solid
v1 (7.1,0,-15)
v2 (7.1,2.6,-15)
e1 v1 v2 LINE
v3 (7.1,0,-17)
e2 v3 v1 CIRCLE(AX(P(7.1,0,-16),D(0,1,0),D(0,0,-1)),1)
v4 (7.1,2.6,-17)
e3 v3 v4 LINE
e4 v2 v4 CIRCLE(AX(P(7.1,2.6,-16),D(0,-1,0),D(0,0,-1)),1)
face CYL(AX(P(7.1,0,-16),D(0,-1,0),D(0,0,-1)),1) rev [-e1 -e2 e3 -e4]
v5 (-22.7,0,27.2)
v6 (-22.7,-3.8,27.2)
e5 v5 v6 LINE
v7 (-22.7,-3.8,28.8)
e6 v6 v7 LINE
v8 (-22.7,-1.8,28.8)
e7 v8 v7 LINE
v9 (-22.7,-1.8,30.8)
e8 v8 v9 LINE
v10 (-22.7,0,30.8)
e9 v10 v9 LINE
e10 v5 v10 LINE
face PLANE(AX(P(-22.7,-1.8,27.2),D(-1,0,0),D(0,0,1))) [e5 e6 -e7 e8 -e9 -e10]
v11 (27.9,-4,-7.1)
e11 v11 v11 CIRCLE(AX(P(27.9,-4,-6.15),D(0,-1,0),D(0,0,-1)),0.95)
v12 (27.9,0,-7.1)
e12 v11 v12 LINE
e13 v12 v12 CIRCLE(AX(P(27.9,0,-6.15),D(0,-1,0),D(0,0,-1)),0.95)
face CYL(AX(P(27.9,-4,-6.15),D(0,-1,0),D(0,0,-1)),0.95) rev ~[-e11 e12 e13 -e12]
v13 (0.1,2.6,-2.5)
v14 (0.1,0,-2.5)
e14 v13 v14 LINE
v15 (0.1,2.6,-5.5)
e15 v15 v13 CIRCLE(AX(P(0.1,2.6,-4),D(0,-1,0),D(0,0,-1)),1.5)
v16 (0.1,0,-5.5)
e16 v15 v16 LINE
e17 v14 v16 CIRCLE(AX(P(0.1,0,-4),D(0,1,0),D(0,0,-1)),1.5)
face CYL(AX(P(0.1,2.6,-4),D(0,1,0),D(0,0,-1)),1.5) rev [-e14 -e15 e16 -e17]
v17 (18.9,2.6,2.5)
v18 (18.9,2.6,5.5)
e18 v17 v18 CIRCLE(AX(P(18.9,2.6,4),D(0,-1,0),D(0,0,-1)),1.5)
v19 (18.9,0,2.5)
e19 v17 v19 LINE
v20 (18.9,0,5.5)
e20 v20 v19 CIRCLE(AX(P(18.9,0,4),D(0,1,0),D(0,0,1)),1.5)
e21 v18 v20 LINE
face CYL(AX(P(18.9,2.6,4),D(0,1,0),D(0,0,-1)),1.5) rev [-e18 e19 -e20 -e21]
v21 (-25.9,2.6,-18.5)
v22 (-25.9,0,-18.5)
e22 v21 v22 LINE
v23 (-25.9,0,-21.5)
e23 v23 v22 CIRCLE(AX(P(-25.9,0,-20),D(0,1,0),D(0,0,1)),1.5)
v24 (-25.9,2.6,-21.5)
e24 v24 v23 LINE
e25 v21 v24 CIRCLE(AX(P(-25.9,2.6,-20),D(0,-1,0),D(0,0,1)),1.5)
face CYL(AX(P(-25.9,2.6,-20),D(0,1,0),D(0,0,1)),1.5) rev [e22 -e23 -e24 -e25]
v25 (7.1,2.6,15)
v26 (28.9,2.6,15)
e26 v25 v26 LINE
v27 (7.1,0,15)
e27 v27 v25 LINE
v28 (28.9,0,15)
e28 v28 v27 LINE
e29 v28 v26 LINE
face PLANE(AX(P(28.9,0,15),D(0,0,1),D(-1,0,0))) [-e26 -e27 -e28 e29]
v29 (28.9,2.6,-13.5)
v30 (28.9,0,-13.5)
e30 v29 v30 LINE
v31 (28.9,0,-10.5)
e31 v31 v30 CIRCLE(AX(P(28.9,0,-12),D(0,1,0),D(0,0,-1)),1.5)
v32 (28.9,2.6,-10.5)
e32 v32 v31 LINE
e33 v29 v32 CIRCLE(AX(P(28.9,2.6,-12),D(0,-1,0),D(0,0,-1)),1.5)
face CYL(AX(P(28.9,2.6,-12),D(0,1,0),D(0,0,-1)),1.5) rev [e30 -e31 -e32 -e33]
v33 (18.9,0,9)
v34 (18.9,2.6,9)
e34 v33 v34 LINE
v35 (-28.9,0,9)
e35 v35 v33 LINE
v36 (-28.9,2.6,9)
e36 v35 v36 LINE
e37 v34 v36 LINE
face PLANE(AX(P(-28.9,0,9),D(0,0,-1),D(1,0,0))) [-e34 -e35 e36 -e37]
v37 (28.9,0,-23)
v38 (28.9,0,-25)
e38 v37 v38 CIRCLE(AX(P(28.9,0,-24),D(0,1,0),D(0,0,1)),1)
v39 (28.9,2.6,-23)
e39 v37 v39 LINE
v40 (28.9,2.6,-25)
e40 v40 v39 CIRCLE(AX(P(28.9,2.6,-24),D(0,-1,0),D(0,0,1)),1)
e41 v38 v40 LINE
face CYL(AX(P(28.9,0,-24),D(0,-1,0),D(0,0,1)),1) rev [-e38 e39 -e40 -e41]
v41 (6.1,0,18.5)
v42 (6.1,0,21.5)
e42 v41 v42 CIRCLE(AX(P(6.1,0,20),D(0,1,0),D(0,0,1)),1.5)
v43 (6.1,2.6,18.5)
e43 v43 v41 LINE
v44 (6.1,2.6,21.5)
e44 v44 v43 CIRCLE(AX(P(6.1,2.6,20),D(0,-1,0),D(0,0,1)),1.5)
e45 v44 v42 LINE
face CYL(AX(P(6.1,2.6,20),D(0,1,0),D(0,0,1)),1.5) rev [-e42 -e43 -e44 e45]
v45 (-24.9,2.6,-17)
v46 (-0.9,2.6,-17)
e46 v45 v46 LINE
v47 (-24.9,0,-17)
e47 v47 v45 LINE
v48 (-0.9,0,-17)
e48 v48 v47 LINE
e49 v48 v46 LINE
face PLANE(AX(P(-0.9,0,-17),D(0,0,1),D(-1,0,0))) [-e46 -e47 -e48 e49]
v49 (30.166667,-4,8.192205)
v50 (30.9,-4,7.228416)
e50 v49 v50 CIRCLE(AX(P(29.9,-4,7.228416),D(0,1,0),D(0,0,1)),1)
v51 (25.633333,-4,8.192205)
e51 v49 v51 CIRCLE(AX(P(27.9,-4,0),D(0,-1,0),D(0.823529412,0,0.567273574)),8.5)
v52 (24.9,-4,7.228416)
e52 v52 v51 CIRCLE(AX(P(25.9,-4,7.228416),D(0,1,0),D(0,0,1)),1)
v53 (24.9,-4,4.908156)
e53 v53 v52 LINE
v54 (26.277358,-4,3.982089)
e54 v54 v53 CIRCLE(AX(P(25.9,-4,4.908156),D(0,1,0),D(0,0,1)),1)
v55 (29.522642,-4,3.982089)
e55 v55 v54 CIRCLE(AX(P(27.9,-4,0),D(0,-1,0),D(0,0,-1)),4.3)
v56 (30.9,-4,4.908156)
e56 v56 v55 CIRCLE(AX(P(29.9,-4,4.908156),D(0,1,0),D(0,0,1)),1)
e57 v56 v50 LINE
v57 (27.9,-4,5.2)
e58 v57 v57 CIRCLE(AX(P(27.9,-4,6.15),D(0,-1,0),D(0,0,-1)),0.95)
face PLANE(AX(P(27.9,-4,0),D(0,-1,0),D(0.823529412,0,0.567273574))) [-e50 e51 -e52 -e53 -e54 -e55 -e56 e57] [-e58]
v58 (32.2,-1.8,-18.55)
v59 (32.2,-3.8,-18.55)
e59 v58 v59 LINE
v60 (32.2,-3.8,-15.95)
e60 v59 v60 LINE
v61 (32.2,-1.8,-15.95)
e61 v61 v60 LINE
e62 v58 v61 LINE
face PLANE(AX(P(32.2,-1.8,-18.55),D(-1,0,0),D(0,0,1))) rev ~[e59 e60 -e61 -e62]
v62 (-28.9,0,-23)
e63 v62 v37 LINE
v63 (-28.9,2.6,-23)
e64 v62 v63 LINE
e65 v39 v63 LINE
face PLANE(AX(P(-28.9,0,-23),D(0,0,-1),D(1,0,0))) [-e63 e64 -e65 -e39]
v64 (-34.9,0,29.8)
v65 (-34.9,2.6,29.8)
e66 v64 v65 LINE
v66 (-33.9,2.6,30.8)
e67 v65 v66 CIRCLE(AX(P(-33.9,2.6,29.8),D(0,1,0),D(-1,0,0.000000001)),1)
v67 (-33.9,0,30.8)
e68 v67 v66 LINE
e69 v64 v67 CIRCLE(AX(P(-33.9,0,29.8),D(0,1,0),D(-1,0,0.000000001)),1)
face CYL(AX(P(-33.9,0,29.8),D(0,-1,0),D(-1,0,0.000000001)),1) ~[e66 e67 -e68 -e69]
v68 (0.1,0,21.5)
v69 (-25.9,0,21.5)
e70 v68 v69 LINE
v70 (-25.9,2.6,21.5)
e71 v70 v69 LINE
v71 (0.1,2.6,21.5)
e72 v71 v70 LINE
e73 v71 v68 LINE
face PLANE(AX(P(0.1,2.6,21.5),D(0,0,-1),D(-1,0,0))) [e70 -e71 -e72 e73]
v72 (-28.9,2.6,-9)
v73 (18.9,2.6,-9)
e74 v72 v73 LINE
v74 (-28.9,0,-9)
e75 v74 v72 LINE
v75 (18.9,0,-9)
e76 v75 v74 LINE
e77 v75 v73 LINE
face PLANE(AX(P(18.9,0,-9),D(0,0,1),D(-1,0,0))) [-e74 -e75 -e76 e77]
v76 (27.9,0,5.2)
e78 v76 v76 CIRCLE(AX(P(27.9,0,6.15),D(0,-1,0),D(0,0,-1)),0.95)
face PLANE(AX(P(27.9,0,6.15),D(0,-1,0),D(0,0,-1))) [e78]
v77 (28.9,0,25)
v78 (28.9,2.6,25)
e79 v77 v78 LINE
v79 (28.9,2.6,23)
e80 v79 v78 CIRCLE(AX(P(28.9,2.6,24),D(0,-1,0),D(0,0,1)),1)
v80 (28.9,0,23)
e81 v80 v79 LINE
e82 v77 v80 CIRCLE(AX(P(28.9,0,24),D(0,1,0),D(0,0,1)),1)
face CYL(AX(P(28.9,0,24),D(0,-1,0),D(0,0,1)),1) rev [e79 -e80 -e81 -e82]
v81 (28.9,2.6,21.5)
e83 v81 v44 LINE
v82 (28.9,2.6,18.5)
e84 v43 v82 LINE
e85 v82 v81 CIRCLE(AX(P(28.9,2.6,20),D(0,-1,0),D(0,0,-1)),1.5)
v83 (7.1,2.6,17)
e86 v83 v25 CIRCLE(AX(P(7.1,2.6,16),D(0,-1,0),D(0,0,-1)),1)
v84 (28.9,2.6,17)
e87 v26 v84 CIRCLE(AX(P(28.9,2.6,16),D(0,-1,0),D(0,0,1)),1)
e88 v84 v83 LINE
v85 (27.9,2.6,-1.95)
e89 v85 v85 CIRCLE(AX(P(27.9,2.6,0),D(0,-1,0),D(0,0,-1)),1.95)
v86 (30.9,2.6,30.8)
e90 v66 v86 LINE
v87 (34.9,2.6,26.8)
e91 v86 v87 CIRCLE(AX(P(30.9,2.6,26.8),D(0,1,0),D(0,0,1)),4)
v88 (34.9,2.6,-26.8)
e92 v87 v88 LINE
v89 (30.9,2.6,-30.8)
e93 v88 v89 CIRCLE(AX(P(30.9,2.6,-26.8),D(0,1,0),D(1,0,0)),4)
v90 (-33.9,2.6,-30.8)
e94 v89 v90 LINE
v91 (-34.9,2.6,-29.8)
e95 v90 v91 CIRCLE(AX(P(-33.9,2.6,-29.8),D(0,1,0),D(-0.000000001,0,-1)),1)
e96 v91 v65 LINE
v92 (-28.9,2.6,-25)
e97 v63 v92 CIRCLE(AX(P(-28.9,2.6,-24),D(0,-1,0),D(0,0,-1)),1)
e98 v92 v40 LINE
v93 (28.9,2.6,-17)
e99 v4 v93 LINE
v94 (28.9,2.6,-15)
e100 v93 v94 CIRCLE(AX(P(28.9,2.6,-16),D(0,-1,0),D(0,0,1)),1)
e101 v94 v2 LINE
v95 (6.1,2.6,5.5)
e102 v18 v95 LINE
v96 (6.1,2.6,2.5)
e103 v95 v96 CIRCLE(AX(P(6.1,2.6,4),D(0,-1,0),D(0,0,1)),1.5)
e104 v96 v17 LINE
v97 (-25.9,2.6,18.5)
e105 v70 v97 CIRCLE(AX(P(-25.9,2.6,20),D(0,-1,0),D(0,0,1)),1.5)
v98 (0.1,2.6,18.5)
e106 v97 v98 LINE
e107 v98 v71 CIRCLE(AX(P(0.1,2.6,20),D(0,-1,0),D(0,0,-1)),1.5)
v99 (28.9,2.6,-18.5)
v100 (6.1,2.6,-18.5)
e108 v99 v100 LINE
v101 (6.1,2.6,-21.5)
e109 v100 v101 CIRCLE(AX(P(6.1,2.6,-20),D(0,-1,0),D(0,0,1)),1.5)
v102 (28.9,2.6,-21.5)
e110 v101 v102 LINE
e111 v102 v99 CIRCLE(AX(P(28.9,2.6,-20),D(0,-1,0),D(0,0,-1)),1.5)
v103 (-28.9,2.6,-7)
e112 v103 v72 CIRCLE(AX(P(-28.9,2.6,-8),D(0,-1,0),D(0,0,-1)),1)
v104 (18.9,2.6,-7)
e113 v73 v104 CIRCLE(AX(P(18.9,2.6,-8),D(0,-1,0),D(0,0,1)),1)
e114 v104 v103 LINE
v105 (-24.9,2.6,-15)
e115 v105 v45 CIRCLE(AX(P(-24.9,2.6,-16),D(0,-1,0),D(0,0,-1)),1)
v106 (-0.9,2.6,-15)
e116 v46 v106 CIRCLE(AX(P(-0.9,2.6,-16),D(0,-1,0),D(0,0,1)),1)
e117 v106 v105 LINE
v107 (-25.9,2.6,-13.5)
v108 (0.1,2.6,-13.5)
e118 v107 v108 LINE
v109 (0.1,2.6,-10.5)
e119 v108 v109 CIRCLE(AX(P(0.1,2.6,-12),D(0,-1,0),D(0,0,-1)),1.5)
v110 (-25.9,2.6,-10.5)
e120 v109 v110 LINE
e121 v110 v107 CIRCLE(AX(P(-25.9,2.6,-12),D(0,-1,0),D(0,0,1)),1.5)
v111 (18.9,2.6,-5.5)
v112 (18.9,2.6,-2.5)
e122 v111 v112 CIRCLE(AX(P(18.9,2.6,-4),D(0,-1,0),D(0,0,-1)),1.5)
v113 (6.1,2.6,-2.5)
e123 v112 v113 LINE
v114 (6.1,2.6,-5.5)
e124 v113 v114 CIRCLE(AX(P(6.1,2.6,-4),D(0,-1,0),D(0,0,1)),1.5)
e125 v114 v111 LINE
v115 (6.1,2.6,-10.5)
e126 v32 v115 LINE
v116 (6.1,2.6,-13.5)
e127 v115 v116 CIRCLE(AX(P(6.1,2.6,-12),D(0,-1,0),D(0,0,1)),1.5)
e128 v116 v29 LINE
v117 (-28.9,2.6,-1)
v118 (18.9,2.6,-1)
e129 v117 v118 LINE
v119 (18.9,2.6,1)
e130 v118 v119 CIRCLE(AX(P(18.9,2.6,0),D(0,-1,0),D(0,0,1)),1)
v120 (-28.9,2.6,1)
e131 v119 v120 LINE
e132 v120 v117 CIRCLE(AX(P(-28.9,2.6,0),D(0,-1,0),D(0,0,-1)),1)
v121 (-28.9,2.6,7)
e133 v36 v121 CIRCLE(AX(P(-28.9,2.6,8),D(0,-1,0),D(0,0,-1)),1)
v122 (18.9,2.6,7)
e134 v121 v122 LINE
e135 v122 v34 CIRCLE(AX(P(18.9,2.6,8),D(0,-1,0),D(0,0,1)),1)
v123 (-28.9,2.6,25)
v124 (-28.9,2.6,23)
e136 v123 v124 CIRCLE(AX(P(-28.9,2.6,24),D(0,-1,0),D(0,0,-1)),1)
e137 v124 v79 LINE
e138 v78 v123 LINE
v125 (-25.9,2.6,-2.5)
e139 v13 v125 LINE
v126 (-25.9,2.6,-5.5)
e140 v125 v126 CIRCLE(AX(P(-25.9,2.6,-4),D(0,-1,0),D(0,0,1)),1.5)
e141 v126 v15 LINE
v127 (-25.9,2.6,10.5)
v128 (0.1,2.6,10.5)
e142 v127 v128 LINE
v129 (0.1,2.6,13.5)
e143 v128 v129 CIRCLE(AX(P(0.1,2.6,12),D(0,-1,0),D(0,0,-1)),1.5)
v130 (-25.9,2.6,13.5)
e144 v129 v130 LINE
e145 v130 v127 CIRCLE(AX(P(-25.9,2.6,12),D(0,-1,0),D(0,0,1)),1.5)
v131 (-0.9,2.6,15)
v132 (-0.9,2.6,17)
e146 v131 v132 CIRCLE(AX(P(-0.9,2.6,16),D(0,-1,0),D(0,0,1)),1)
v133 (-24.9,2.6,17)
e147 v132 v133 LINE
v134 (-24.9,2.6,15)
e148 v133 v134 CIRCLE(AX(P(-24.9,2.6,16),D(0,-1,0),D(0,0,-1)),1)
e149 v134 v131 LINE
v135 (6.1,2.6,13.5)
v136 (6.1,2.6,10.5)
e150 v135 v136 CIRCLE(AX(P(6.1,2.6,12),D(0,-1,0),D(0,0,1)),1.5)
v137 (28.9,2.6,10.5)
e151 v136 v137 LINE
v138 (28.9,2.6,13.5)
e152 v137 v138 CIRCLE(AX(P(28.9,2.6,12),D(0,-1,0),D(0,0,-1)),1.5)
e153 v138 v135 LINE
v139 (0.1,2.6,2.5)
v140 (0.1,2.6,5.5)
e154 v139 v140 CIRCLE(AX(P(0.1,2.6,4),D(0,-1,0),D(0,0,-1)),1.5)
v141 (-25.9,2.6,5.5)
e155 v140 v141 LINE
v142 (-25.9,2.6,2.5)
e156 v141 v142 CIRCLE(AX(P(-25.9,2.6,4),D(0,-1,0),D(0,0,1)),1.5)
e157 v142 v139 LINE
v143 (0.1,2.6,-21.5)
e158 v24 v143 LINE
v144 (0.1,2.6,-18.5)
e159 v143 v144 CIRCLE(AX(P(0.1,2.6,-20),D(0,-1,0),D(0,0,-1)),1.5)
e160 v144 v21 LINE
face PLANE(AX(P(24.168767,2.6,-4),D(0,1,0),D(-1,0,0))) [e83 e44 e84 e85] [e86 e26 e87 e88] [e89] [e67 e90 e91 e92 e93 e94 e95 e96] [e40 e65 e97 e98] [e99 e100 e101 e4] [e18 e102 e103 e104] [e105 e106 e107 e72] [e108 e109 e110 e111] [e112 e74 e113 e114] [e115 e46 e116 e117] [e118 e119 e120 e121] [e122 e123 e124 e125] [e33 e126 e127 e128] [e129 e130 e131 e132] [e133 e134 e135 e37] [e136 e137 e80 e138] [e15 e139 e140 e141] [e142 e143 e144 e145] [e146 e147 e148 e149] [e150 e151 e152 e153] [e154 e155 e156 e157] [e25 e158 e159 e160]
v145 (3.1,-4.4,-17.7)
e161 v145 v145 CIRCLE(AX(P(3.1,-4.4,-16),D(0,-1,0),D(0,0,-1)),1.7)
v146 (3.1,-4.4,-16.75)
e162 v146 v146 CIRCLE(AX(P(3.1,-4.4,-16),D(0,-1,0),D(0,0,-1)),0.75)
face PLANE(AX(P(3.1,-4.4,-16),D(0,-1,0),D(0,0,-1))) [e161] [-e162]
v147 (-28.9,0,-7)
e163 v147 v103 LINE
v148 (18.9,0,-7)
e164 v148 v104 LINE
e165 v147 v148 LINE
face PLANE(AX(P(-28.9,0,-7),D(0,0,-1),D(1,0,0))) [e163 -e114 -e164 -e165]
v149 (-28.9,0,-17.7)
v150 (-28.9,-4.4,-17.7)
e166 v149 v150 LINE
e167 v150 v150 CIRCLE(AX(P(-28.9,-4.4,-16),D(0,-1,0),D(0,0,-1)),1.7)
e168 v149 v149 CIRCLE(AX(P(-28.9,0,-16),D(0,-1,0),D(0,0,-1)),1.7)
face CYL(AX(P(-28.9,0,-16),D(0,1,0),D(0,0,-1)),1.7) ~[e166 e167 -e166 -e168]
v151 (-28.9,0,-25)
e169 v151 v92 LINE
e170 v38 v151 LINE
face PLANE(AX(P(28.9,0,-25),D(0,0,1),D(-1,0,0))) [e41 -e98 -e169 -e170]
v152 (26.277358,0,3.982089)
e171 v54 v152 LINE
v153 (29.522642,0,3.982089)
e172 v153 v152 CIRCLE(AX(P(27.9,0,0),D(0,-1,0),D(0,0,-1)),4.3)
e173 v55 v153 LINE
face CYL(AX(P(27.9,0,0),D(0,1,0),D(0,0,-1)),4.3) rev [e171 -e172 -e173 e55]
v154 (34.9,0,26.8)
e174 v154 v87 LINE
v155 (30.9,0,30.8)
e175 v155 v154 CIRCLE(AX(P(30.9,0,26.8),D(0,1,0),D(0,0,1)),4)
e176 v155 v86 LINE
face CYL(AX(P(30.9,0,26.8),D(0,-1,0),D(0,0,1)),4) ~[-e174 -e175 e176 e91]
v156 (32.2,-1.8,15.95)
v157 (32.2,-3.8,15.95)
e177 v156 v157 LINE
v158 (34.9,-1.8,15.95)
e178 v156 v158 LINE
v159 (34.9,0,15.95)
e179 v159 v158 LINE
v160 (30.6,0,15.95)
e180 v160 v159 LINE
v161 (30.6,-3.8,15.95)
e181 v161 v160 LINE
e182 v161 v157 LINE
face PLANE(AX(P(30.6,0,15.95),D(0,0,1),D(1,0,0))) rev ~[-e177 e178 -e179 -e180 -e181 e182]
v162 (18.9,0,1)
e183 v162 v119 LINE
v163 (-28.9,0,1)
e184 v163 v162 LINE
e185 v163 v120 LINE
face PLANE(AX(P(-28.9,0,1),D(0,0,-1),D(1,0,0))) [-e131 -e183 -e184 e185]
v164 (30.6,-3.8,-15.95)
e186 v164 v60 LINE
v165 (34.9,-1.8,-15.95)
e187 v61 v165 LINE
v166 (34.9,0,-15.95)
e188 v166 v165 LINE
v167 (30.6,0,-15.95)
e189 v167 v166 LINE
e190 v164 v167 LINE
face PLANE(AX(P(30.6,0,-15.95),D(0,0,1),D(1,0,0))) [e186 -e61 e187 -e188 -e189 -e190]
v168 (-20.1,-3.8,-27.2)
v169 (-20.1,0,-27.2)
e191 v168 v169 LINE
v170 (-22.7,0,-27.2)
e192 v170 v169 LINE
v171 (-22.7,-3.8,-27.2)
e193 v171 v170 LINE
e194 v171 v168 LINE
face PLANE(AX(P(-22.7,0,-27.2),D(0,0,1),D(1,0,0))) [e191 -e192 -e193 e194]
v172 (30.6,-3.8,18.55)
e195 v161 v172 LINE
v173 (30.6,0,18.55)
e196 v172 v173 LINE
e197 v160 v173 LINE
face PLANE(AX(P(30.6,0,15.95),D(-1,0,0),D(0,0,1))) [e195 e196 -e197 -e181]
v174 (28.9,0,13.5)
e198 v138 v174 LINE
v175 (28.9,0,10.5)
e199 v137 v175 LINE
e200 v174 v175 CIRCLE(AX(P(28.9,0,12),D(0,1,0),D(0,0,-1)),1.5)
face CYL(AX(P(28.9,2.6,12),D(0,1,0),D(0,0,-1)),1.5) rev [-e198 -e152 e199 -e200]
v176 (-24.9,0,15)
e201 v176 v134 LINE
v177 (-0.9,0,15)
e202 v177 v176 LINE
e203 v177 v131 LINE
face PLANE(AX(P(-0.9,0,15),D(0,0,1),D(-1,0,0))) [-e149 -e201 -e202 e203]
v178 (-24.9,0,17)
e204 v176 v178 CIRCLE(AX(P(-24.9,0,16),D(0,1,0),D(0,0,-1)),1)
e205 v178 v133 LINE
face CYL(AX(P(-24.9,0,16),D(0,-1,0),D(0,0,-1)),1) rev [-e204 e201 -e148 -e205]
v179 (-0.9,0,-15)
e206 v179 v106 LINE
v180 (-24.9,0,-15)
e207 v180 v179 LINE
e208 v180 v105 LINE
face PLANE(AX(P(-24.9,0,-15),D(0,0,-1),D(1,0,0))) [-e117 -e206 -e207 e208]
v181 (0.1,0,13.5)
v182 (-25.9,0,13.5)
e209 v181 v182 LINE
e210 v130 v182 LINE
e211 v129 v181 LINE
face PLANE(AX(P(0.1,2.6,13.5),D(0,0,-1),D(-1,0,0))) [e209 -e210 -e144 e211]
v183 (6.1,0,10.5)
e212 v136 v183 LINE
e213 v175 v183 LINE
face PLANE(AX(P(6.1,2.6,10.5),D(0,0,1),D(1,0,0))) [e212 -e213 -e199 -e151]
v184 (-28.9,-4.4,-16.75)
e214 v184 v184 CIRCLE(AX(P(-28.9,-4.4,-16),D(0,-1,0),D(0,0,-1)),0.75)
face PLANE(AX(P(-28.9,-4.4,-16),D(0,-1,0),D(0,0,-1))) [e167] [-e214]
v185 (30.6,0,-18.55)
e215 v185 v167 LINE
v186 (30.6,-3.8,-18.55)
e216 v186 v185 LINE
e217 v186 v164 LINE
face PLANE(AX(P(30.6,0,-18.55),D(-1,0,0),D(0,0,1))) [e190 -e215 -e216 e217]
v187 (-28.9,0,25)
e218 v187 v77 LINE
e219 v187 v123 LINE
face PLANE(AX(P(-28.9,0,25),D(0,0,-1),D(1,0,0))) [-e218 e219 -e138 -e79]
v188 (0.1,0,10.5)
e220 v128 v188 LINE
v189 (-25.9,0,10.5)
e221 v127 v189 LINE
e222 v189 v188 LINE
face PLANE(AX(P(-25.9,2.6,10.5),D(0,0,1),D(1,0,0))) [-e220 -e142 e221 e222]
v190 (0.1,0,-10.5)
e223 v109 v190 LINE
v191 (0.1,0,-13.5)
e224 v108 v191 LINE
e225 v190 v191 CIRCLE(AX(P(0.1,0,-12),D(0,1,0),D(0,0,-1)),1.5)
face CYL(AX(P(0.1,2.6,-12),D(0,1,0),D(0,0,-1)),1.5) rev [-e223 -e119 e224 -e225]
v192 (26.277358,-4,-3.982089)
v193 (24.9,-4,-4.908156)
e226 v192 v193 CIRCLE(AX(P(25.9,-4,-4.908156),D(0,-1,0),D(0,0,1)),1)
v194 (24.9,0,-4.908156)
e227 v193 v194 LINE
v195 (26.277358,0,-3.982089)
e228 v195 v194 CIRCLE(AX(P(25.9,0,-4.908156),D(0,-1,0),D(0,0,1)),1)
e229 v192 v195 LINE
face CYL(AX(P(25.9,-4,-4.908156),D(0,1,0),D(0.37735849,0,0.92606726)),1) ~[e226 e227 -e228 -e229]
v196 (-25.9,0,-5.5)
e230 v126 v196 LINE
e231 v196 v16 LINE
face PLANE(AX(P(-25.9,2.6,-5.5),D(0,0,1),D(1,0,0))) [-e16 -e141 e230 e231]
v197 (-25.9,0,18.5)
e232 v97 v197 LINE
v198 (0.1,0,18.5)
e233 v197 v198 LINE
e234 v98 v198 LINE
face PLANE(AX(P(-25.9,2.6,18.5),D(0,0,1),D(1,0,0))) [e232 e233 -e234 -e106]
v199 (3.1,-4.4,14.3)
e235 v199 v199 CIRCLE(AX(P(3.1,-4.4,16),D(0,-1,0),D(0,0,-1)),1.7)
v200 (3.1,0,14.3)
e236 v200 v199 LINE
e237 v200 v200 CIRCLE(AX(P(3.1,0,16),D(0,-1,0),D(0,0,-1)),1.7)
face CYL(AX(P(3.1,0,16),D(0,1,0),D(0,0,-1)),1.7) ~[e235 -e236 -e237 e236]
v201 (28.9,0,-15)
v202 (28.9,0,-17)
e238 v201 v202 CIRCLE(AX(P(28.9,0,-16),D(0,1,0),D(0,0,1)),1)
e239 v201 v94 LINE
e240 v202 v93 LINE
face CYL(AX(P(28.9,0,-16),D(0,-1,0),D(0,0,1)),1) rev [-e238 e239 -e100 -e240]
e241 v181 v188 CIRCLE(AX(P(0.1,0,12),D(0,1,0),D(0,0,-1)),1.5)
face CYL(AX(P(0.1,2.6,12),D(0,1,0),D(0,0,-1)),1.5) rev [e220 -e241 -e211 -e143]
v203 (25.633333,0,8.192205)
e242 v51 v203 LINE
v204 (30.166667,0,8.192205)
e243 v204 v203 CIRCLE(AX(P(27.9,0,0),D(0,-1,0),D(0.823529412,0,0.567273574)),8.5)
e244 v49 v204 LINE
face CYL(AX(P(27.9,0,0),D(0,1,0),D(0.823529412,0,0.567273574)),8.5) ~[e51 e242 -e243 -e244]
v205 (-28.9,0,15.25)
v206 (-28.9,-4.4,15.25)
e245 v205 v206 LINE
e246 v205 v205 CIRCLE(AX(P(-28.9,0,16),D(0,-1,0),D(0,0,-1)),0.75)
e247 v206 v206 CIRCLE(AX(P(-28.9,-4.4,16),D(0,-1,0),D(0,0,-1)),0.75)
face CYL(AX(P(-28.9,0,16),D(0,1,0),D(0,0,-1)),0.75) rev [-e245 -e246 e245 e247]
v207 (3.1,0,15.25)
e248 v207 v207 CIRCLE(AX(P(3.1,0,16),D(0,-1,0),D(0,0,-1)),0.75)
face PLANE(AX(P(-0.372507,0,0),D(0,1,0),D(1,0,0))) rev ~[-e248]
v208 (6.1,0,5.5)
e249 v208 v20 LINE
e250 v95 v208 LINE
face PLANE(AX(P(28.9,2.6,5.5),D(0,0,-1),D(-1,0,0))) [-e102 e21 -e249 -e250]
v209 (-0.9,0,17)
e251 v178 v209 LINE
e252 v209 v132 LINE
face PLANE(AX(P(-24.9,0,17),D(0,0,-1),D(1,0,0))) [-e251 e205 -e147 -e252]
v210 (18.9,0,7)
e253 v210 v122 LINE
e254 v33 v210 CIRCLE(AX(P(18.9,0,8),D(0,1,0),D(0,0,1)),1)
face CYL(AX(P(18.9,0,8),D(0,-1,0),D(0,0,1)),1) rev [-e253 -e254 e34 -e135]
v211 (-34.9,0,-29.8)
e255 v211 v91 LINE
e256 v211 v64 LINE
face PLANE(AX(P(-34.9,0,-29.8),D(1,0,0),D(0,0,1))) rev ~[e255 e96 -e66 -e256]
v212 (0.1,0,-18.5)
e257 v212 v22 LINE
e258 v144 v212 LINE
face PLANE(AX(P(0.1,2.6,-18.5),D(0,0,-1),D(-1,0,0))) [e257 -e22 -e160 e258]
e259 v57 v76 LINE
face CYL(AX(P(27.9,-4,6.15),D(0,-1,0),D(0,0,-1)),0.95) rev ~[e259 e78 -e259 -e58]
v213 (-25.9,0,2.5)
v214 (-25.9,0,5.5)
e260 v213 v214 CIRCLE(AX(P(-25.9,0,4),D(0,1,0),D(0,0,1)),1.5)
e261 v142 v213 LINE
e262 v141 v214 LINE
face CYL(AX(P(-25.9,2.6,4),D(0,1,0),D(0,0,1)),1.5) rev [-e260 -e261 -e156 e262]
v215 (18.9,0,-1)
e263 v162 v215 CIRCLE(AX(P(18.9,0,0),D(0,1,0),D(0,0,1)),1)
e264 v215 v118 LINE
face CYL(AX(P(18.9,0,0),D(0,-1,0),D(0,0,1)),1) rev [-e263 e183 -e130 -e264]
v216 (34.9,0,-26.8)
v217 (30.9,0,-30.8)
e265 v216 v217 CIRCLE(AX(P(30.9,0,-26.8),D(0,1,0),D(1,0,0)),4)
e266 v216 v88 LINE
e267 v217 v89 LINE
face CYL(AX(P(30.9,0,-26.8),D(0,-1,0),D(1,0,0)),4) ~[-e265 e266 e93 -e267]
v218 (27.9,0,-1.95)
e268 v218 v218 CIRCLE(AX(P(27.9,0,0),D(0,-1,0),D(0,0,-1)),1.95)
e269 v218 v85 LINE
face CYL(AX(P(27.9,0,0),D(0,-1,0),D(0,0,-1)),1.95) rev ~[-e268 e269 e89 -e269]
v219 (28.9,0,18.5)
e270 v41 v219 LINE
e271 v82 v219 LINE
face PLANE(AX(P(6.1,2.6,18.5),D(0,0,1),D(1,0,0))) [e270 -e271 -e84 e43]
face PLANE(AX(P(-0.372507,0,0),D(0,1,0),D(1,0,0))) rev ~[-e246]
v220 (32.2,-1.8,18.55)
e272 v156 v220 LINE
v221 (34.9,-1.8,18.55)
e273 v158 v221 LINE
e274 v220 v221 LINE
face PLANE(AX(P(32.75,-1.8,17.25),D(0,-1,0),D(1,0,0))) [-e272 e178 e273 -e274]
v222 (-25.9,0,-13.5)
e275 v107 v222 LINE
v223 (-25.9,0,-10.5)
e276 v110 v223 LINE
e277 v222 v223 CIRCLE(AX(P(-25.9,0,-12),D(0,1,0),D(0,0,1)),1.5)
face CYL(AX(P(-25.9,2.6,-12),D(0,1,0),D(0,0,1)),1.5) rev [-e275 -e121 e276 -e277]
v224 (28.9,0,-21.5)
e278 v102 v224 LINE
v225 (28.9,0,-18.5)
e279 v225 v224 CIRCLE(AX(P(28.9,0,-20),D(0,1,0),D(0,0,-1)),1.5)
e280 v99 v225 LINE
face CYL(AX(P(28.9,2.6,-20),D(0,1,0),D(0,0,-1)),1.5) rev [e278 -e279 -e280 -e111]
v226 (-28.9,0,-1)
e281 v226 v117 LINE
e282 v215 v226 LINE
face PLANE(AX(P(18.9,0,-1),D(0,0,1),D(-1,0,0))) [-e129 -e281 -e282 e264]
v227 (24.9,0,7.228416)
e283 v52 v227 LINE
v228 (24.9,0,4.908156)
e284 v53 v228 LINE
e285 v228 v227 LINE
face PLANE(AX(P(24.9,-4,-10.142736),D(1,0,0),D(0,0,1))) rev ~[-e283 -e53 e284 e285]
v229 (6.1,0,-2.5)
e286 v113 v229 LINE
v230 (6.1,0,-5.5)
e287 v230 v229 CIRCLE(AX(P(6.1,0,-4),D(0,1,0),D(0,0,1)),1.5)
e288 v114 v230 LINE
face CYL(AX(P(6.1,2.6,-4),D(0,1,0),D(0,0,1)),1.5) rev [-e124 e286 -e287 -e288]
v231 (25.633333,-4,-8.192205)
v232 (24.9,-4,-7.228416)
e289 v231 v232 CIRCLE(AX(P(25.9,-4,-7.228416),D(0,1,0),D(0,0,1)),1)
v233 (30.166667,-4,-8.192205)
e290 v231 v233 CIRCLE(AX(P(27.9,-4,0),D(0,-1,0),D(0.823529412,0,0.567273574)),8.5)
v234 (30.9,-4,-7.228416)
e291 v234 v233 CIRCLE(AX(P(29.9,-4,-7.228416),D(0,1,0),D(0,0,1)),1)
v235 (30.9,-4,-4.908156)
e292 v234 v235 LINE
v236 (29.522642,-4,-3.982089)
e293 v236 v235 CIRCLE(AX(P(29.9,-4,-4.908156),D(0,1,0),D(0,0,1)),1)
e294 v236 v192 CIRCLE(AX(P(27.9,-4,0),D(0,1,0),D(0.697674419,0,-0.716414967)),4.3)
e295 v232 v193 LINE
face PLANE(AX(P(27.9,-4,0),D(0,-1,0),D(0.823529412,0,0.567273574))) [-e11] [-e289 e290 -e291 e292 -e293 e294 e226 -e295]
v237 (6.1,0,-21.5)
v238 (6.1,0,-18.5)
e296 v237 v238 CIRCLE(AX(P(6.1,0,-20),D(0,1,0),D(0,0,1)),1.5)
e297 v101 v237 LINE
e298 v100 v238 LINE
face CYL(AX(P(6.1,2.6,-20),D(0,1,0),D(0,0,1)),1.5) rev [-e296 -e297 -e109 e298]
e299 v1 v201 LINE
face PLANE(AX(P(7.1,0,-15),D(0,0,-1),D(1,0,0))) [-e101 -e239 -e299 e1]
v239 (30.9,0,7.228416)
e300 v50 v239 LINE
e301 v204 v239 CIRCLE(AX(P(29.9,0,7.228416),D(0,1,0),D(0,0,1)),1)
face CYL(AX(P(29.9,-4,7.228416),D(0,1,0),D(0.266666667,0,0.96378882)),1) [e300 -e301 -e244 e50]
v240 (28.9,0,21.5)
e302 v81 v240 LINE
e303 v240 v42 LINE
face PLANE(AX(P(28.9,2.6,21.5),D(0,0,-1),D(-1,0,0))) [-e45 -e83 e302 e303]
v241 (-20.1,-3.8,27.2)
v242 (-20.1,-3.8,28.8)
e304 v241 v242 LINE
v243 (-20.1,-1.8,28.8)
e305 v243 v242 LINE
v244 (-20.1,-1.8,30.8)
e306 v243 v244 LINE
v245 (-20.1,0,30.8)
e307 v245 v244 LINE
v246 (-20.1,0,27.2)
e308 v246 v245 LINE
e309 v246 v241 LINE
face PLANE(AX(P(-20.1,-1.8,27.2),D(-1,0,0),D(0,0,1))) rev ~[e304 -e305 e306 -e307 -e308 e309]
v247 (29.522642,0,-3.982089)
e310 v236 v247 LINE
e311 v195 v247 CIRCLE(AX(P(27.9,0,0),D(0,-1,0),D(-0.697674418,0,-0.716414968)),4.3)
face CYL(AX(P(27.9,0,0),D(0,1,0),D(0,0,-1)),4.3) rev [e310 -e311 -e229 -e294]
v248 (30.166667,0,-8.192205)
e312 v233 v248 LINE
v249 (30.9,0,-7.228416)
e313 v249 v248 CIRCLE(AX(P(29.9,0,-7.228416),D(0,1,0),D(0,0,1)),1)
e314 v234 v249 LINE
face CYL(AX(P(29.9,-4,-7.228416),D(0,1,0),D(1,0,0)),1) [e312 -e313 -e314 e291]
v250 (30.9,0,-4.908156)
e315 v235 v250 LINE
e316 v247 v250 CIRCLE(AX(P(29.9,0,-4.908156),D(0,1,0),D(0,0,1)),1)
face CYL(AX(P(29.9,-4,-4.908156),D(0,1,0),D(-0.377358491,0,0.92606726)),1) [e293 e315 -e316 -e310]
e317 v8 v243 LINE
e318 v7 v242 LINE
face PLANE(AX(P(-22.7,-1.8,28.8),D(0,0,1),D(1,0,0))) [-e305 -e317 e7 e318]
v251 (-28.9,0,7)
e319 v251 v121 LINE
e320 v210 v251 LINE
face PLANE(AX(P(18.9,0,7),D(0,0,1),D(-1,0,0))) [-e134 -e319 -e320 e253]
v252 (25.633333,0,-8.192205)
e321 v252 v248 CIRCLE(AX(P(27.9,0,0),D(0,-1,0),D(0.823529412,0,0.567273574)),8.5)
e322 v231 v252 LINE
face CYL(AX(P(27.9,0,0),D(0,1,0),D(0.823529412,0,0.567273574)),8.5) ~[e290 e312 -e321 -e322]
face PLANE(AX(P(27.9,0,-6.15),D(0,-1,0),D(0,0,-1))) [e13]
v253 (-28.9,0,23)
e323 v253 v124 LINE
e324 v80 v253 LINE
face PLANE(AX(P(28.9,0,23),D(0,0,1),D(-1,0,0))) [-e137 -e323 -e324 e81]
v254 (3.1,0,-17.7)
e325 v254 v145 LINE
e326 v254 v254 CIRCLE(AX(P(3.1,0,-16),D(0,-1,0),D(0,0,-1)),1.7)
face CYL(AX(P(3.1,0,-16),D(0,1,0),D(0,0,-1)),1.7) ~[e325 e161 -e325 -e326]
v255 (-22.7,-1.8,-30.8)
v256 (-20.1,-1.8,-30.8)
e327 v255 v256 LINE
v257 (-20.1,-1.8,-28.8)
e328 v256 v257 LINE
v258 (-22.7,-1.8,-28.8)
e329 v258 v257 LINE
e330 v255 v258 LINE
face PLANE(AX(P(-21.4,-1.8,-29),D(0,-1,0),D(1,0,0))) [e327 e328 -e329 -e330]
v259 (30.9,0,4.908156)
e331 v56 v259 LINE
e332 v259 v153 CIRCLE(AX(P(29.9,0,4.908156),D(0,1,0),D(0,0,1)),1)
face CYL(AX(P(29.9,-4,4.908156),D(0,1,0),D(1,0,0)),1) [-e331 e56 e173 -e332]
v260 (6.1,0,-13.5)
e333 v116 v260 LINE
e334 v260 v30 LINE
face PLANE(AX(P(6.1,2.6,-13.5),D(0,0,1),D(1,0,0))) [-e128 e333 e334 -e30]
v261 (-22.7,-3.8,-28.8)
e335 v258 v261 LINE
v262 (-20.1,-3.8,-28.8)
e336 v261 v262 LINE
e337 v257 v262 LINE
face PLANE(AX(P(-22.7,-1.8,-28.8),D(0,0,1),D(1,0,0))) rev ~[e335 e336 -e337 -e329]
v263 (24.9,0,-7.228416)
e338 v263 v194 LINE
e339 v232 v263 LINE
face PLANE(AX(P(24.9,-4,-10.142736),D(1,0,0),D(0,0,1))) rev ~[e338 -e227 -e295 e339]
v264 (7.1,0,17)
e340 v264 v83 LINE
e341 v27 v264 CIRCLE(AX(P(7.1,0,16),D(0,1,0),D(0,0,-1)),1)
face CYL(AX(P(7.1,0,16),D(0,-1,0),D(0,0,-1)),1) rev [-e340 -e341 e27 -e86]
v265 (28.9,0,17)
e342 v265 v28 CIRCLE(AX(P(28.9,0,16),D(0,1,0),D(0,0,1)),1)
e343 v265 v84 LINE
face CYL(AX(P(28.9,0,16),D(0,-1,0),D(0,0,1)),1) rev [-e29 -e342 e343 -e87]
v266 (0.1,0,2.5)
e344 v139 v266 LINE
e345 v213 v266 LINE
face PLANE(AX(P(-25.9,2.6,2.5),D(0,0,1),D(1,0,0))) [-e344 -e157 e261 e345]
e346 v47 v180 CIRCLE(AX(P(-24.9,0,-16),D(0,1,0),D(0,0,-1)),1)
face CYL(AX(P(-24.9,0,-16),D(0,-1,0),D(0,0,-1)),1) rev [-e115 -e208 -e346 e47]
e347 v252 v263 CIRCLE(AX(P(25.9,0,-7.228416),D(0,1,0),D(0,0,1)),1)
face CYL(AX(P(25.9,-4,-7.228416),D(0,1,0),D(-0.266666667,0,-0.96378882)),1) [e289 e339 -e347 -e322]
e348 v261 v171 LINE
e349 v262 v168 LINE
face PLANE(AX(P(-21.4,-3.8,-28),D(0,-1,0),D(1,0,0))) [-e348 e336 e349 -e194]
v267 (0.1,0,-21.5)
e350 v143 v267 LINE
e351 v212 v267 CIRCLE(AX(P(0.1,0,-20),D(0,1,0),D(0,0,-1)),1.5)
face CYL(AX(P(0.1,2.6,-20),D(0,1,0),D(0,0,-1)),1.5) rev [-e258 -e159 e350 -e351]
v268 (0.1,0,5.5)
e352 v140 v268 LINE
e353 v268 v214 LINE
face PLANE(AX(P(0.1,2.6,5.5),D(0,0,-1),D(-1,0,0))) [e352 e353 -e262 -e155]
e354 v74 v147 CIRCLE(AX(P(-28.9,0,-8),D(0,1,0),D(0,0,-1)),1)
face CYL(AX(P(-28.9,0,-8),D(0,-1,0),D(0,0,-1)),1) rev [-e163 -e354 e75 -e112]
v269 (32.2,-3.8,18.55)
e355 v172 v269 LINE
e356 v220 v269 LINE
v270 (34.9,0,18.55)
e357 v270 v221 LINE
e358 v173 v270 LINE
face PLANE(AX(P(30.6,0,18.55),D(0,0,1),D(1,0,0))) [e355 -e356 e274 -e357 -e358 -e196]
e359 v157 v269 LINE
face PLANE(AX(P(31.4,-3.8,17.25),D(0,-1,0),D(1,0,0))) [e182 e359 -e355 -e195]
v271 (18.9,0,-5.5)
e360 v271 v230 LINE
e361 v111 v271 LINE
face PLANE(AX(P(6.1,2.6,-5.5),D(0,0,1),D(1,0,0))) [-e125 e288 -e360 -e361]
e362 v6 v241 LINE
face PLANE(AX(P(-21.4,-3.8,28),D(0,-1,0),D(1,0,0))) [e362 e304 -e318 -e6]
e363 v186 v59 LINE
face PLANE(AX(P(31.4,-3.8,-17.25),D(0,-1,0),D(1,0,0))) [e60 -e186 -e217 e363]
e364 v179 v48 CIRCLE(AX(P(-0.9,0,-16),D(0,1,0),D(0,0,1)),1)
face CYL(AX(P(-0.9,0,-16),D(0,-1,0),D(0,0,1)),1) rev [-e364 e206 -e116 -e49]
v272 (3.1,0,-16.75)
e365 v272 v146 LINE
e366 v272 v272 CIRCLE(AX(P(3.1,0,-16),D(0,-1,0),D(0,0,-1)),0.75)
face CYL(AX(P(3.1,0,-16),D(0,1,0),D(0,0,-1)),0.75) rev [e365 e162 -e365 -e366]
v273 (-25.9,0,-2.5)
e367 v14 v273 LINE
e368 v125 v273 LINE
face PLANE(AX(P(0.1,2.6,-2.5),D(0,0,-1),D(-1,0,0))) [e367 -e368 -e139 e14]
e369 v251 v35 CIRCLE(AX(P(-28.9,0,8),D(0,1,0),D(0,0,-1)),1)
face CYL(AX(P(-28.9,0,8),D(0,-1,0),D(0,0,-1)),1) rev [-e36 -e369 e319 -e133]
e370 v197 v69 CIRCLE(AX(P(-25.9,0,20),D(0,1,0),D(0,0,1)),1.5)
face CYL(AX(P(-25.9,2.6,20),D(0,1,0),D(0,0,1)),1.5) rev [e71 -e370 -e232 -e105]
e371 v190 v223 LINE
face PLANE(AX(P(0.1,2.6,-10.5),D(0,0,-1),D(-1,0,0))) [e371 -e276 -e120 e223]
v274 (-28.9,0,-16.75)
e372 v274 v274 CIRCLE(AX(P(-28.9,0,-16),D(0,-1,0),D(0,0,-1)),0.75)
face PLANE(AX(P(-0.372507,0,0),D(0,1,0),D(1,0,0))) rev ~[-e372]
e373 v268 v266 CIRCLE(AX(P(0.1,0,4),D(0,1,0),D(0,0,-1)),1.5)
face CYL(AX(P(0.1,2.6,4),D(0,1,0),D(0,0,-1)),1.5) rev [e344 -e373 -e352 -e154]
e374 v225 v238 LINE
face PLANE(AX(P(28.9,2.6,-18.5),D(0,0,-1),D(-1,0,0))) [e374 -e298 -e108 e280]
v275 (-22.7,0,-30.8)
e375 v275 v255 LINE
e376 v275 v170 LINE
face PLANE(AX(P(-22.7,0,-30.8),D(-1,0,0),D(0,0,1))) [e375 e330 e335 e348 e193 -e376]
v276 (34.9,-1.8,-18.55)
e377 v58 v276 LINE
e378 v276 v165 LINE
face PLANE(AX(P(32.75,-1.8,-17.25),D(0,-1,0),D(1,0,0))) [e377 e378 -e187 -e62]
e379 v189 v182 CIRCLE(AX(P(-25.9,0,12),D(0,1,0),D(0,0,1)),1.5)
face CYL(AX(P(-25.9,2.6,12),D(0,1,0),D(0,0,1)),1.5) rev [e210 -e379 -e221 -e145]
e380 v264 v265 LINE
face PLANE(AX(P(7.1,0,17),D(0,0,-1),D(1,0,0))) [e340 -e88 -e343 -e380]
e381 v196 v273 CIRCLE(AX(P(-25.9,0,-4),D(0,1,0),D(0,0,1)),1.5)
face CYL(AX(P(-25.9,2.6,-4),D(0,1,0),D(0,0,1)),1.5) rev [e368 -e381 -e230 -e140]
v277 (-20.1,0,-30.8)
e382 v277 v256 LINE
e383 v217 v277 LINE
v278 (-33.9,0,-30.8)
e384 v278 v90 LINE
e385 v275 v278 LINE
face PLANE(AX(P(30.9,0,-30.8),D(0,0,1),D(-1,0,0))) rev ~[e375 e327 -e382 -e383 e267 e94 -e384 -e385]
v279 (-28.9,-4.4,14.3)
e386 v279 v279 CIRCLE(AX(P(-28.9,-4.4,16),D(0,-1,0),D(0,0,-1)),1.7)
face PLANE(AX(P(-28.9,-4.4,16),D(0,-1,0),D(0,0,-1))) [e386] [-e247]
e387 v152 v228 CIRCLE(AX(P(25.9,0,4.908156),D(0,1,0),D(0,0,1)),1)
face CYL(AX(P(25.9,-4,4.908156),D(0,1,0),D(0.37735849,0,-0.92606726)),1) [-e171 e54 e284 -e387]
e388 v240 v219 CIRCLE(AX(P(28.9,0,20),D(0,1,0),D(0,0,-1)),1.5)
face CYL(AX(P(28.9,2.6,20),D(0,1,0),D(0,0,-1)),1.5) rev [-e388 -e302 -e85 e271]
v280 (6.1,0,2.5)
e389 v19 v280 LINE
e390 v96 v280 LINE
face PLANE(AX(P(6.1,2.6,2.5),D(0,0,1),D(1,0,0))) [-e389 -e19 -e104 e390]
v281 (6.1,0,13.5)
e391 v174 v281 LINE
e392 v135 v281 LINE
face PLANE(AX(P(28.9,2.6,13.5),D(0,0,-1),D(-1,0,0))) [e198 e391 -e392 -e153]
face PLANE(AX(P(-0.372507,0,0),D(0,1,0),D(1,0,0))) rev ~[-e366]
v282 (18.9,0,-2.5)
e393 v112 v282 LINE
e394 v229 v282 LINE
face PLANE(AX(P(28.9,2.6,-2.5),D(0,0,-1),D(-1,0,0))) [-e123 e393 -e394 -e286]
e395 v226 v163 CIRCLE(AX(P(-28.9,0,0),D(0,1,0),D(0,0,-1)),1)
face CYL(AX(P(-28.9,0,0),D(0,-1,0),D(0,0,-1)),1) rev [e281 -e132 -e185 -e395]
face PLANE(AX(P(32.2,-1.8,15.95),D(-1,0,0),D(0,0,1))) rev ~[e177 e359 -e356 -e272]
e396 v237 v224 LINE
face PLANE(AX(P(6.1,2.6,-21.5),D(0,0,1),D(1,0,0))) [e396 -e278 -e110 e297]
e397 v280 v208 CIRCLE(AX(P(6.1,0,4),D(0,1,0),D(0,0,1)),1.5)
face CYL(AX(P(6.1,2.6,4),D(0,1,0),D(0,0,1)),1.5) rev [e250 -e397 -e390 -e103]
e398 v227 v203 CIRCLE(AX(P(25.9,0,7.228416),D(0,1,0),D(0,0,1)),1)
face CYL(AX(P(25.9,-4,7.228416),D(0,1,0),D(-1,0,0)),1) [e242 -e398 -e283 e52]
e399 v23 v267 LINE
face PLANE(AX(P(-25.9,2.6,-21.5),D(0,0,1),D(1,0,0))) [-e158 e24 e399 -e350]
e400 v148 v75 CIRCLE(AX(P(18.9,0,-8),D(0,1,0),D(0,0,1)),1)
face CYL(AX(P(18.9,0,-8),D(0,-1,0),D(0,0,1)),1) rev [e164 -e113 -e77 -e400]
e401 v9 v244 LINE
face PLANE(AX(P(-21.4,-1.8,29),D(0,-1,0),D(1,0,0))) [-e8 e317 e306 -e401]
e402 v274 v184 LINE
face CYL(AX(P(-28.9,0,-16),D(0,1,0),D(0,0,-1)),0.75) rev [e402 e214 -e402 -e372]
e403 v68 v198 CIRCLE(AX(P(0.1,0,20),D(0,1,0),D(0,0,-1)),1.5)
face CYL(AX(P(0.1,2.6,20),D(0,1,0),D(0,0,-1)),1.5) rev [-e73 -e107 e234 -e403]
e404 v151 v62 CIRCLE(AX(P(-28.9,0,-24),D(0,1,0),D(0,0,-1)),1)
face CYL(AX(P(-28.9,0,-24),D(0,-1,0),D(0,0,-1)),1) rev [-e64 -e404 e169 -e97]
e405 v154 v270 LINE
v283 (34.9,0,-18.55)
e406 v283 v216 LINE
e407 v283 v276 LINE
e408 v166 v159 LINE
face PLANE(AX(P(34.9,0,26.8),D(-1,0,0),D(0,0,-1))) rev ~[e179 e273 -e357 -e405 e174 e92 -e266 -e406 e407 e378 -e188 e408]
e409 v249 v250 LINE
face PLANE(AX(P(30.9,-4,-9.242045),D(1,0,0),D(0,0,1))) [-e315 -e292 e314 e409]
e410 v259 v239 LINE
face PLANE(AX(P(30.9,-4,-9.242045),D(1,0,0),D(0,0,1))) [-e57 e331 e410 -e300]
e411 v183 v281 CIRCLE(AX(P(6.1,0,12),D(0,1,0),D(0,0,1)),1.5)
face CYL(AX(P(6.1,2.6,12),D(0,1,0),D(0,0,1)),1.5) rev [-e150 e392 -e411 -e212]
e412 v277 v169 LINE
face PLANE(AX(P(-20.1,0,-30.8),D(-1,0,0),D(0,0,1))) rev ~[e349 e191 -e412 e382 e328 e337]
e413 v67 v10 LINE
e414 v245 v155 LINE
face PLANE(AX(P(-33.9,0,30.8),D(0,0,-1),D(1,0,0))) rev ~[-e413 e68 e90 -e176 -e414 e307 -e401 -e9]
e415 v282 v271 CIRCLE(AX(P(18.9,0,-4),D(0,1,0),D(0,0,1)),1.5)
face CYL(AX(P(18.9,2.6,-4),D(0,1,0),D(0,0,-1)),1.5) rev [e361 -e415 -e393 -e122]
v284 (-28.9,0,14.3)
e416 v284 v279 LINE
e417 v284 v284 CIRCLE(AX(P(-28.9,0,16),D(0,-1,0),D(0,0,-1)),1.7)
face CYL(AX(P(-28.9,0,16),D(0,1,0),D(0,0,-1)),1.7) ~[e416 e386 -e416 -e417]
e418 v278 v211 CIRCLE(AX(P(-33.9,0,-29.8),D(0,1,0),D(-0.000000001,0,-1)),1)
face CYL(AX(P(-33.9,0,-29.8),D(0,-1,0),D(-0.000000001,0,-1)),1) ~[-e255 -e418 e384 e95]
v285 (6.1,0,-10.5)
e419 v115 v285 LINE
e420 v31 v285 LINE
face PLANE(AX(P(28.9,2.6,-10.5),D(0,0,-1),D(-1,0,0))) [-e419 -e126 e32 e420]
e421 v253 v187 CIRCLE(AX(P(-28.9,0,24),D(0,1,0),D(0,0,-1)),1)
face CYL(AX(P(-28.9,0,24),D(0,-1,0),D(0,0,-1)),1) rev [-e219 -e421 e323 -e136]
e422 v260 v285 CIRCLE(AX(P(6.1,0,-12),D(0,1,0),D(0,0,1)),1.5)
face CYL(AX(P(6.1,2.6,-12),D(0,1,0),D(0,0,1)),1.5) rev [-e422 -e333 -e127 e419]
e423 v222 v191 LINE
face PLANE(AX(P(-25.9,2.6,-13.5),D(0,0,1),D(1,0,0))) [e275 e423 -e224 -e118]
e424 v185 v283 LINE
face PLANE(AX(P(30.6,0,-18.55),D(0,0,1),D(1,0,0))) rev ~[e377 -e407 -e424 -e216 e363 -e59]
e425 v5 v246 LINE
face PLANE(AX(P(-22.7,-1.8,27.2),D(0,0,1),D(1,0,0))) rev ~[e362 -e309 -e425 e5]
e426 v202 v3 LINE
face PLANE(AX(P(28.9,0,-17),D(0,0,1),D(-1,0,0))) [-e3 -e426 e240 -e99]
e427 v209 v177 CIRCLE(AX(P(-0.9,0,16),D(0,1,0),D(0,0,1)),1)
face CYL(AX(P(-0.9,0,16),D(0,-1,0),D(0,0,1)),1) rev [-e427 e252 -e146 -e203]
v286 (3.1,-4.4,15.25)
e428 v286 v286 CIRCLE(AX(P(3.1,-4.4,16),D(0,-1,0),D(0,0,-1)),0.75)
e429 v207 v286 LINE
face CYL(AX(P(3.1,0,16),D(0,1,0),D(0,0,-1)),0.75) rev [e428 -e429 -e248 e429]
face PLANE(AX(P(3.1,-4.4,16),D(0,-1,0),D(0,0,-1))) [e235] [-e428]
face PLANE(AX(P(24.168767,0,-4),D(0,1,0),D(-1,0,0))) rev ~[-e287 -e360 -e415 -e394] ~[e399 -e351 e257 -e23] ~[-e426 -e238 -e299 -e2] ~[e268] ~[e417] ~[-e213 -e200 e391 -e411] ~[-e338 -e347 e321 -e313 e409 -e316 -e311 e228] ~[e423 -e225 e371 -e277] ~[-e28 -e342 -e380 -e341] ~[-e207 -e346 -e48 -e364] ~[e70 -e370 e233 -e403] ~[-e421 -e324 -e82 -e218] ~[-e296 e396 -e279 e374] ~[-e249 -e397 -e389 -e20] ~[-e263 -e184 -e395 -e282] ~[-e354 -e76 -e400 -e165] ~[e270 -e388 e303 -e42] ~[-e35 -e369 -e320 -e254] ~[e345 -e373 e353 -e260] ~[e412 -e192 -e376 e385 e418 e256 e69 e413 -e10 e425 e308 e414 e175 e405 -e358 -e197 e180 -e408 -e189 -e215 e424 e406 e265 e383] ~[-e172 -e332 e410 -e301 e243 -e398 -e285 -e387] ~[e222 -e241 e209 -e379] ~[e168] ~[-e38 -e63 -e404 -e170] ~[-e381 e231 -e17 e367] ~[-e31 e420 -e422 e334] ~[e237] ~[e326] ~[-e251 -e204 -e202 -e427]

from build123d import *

# Parameters (mm, degrees)
BOSS_EXTRUDE1_DEPTH = 2.6
SKETCH3_R           = 1.7
SKETCH3_R_2         = 0.75
BOSS_EXTRUDE2_DEPTH = 4.4
CUT_EXTRUDE1_DEPTH  = 48.070691518
LPATTERN1_COUNT     = 6
LPATTERN1_PITCH     = 8
SKETCH4_R           = 1.95
CUT_EXTRUDE2_DEPTH  = 47.754785851
SKETCH6_W           = 2.6
SKETCH6_H           = 3.6
SKETCH6_W_2         = 4.3
SKETCH6_H_2         = 2.6
BOSS_EXTRUDE4_DEPTH = 1.8
SKETCH7_W           = 2.6
SKETCH7_H           = 1.6
SKETCH7_W_2         = 1.6
SKETCH7_H_2         = 2.6
BOSS_EXTRUDE5_DEPTH = 2
BOSS_EXTRUDE6_START = -2.6
BOSS_EXTRUDE6_DEPTH = 2.6
SKETCH9_R           = 8.5
SKETCH9_R_2         = 4.3
BOSS_EXTRUDE7_DEPTH = 4
SKETCH12_R          = 0.95
CUT_EXTRUDE3_DEPTH  = 4
SKETCH13_W          = 11.452487144
SKETCH13_H          = 18.554951014
SKETCH13_W_2        = 15.080629567
SKETCH13_H_2        = 21.043729538
CUT_EXTRUDE4_DEPTH  = 4
FILLET1_R           = 1
FILLET2_R           = 1


with BuildPart() as part:
    # Sketch1 → Boss-Extrude1 (new body)
    with BuildSketch(Plane(origin=(0, 0, 0), x_dir=(1, 0, 0), z_dir=(0, 1, 0))):
        with BuildLine():
            Line((-33.9, -30.8), (30.9, -30.8))
            ThreePointArc((30.9, -30.8), (33.728427125, -29.628427125), (34.9, -26.8))
            Line((34.9, -26.8), (34.9, 26.8))
            ThreePointArc((34.9, 26.8), (33.728427125, 29.628427125), (30.9, 30.8))
            Line((30.9, 30.8), (-33.9, 30.8))
            ThreePointArc((-33.9, 30.8), (-34.607106781, 30.507106781), (-34.9, 29.8))
            Line((-34.9, 29.8), (-34.9, -29.8))
            ThreePointArc((-34.9, -29.8), (-34.607106781, -30.507106781), (-33.9, -30.8))
        make_face()
    extrude(amount=BOSS_EXTRUDE1_DEPTH)

    # Sketch3 → Boss-Extrude2 (add)
    # profile 1 of 4: a face of its own
    with BuildSketch(Plane.XZ):
        with Locations(Location((-28.9, 16, 0), (0, 0, 270))):
            Circle(SKETCH3_R)
        with Locations(Location((-28.9, 16, 0), (0, 0, 270))):
            Circle(SKETCH3_R_2, mode=Mode.SUBTRACT)
    # profile 2 of 4: a face of its own
    with BuildSketch(Plane.XZ):
        with Locations(Location((3.1, 16, 0), (0, 0, 270))):
            Circle(SKETCH3_R)
        with Locations(Location((3.1, 16, 0), (0, 0, 270))):
            Circle(SKETCH3_R_2, mode=Mode.SUBTRACT)
    # profile 3 of 4: a face of its own
    with BuildSketch(Plane.XZ):
        with Locations(Location((-28.9, -16, 0), (0, 0, 270))):
            Circle(SKETCH3_R)
        with Locations(Location((-28.9, -16, 0), (0, 0, 270))):
            Circle(SKETCH3_R_2, mode=Mode.SUBTRACT)
    # profile 4 of 4: a face of its own
    with BuildSketch(Plane.XZ):
        with Locations(Location((3.1, -16, 0), (0, 0, 270))):
            Circle(SKETCH3_R)
        with Locations(Location((3.1, -16, 0), (0, 0, 270))):
            Circle(SKETCH3_R_2, mode=Mode.SUBTRACT)
    extrude(amount=BOSS_EXTRUDE2_DEPTH)

    # Sketch2 → Cut-Extrude1 (cut, through all)
    with BuildSketch(Plane(origin=(0, 2.6, 0), x_dir=(1, 0, 0), z_dir=(0, 1, 0))):
        with BuildLine():
            Line((28.9, -21.5), (6.1, -21.5))
            ThreePointArc((6.1, -21.5), (4.6, -20), (6.1, -18.5))
            Line((6.1, -18.5), (28.9, -18.5))
            ThreePointArc((28.9, -18.5), (30.4, -20), (28.9, -21.5))
        make_face()
        with BuildLine():
            Line((0.1, -21.5), (-25.9, -21.5))
            ThreePointArc((-25.9, -21.5), (-27.4, -20), (-25.9, -18.5))
            Line((-25.9, -18.5), (0.1, -18.5))
            ThreePointArc((0.1, -18.5), (1.6, -20), (0.1, -21.5))
        make_face()
    cut_extrude1 = extrude(amount=-CUT_EXTRUDE1_DEPTH, mode=Mode.SUBTRACT)

    # LPattern1: Cut-Extrude1 ×6
    with Locations(*[(0, 0, -i * LPATTERN1_PITCH) for i in range(1, LPATTERN1_COUNT)]):
        add(cut_extrude1, mode=Mode.SUBTRACT)

    # Sketch4 → Cut-Extrude2 (cut, through all)
    with BuildSketch(Plane.XZ):
        with Locations(Location((27.9, 0, 0), (0, 0, 270))):
            Circle(SKETCH4_R)
        with BuildLine():
            Line((-28.9, 25), (28.9, 25))
            ThreePointArc((28.9, 25), (29.9, 24), (28.9, 23))
            Line((28.9, 23), (-28.9, 23))
            ThreePointArc((-28.9, 23), (-29.9, 24), (-28.9, 25))
        make_face()
        with BuildLine():
            Line((-24.9, 17), (-0.9, 17))
            ThreePointArc((-0.9, 17), (0.1, 16), (-0.9, 15))
            Line((-0.9, 15), (-24.9, 15))
            ThreePointArc((-24.9, 15), (-25.9, 16), (-24.9, 17))
        make_face()
        with BuildLine():
            Line((7.1, 17), (28.9, 17))
            ThreePointArc((28.9, 17), (29.9, 16), (28.9, 15))
            Line((28.9, 15), (7.1, 15))
            ThreePointArc((7.1, 15), (6.1, 16), (7.1, 17))
        make_face()
        with BuildLine():
            Line((-24.9, -15), (-0.9, -15))
            ThreePointArc((-0.9, -15), (0.1, -16), (-0.9, -17))
            Line((-0.9, -17), (-24.9, -17))
            ThreePointArc((-24.9, -17), (-25.9, -16), (-24.9, -15))
        make_face()
        with BuildLine():
            Line((7.1, -15), (28.9, -15))
            ThreePointArc((28.9, -15), (29.9, -16), (28.9, -17))
            Line((28.9, -17), (7.1, -17))
            ThreePointArc((7.1, -17), (6.1, -16), (7.1, -15))
        make_face()
        with BuildLine():
            Line((-28.9, -23), (28.9, -23))
            ThreePointArc((28.9, -23), (29.9, -24), (28.9, -25))
            Line((28.9, -25), (-28.9, -25))
            ThreePointArc((-28.9, -25), (-29.9, -24), (-28.9, -23))
        make_face()
        with BuildLine():
            Line((-28.9, 9), (18.9, 9))
            ThreePointArc((18.9, 9), (19.9, 8), (18.9, 7))
            Line((18.9, 7), (-28.9, 7))
            ThreePointArc((-28.9, 7), (-29.9, 8), (-28.9, 9))
        make_face()
        with BuildLine():
            Line((18.9, -1), (-28.9, -1))
            ThreePointArc((-28.9, -1), (-29.9, 0), (-28.9, 1))
            Line((-28.9, 1), (18.9, 1))
            ThreePointArc((18.9, 1), (19.9, 0), (18.9, -1))
        make_face()
        with BuildLine():
            Line((-28.9, -7), (18.9, -7))
            ThreePointArc((18.9, -7), (19.9, -8), (18.9, -9))
            Line((18.9, -9), (-28.9, -9))
            ThreePointArc((-28.9, -9), (-29.9, -8), (-28.9, -7))
        make_face()
    extrude(amount=-CUT_EXTRUDE2_DEPTH, mode=Mode.SUBTRACT)

    # Sketch6 → Boss-Extrude4 (add)
    with BuildSketch(Plane.XZ):
        with Locations((-21.4, 29)):
            Rectangle(SKETCH6_W, SKETCH6_H)
        with Locations((-21.4, -29)):
            Rectangle(SKETCH6_W, SKETCH6_H)
        with Locations((32.75, 17.25)):
            Rectangle(SKETCH6_W_2, SKETCH6_H_2)
        with Locations((32.75, -17.25)):
            Rectangle(SKETCH6_W_2, SKETCH6_H_2)
    extrude(amount=BOSS_EXTRUDE4_DEPTH)

    # Sketch7 → Boss-Extrude5 (add)
    with BuildSketch(Plane.XZ.offset(1.8)):
        with Locations((-21.4, 28)):
            Rectangle(SKETCH7_W, SKETCH7_H)
        with Locations((31.4, 17.25)):
            Rectangle(SKETCH7_W_2, SKETCH7_H_2)
        with Locations((31.4, -17.25)):
            Rectangle(SKETCH7_W_2, SKETCH7_H_2)
        with Locations((-21.4, -28)):
            Rectangle(SKETCH7_W, SKETCH7_H)
    extrude(amount=BOSS_EXTRUDE5_DEPTH)

    # Sketch8 → Boss-Extrude6 (add)
    with BuildSketch(Plane.XZ.offset(BOSS_EXTRUDE6_START)):
        with BuildLine():
            Line((28.9, -5.5), (18.9, -5.5))
            ThreePointArc((18.9, -5.5), (20.4, -4), (18.9, -2.5))
            Line((18.9, -2.5), (28.9, -2.5))
            ThreePointArc((28.9, -2.5), (30.4, -4), (28.9, -5.5))
        make_face()
        with BuildLine():
            Line((28.9, 2.5), (18.9, 2.5))
            ThreePointArc((18.9, 2.5), (20.4, 4), (18.9, 5.5))
            Line((18.9, 5.5), (28.9, 5.5))
            ThreePointArc((28.9, 5.5), (30.4, 4), (28.9, 2.5))
        make_face()
    extrude(amount=BOSS_EXTRUDE6_DEPTH)

    # Sketch9 → Boss-Extrude7 (add)
    with BuildSketch(Plane.XZ):
        with Locations(Location((27.9, 0, 0), (0, 0, 34.56032178))):
            Circle(SKETCH9_R)
        with Locations(Location((27.9, 0, 0), (0, 0, 270))):
            Circle(SKETCH9_R_2, mode=Mode.SUBTRACT)
    extrude(amount=BOSS_EXTRUDE7_DEPTH)

    # Sketch12 → Cut-Extrude3 (cut)
    with BuildSketch(Plane.XZ.offset(4)):
        with Locations(Location((27.9, 6.15, 0), (0, 0, 270))):
            Circle(SKETCH12_R)
        with Locations(Location((27.9, -6.15, 0), (0, 0, 270))):
            Circle(SKETCH12_R)
    extrude(amount=-CUT_EXTRUDE3_DEPTH, mode=Mode.SUBTRACT)

    # Sketch13 → Cut-Extrude4 (cut)
    with BuildSketch(Plane.XZ.offset(4)):
        with Locations((36.626243572, 0.035430506)):
            Rectangle(SKETCH13_W, SKETCH13_H)
        with Locations((17.359685217, 0.379129228)):
            Rectangle(SKETCH13_W_2, SKETCH13_H_2)
    extrude(amount=-CUT_EXTRUDE4_DEPTH, mode=Mode.SUBTRACT)

    # Fillet1
    fillet1_edges = [part.edges().sort_by_distance(p)[0] for p in [
        (24.9, -2, 3.08058436),
        (24.9, -2, -3.08058436),
        (30.9, -2, -3.08058436),
        (30.9, -2, 3.08058436),
    ]]
    fillet(fillet1_edges, radius=FILLET1_R)

    # Fillet2
    fillet2_edges = [part.edges().sort_by_distance(p)[0] for p in [
        (30.9, -2, 7.95298686),
        (30.9, -2, -7.95298686),
        (24.9, -2, -7.95298686),
        (24.9, -2, 7.95298686),
    ]]
    fillet(fillet2_edges, radius=FILLET2_R)


solid = part.part
